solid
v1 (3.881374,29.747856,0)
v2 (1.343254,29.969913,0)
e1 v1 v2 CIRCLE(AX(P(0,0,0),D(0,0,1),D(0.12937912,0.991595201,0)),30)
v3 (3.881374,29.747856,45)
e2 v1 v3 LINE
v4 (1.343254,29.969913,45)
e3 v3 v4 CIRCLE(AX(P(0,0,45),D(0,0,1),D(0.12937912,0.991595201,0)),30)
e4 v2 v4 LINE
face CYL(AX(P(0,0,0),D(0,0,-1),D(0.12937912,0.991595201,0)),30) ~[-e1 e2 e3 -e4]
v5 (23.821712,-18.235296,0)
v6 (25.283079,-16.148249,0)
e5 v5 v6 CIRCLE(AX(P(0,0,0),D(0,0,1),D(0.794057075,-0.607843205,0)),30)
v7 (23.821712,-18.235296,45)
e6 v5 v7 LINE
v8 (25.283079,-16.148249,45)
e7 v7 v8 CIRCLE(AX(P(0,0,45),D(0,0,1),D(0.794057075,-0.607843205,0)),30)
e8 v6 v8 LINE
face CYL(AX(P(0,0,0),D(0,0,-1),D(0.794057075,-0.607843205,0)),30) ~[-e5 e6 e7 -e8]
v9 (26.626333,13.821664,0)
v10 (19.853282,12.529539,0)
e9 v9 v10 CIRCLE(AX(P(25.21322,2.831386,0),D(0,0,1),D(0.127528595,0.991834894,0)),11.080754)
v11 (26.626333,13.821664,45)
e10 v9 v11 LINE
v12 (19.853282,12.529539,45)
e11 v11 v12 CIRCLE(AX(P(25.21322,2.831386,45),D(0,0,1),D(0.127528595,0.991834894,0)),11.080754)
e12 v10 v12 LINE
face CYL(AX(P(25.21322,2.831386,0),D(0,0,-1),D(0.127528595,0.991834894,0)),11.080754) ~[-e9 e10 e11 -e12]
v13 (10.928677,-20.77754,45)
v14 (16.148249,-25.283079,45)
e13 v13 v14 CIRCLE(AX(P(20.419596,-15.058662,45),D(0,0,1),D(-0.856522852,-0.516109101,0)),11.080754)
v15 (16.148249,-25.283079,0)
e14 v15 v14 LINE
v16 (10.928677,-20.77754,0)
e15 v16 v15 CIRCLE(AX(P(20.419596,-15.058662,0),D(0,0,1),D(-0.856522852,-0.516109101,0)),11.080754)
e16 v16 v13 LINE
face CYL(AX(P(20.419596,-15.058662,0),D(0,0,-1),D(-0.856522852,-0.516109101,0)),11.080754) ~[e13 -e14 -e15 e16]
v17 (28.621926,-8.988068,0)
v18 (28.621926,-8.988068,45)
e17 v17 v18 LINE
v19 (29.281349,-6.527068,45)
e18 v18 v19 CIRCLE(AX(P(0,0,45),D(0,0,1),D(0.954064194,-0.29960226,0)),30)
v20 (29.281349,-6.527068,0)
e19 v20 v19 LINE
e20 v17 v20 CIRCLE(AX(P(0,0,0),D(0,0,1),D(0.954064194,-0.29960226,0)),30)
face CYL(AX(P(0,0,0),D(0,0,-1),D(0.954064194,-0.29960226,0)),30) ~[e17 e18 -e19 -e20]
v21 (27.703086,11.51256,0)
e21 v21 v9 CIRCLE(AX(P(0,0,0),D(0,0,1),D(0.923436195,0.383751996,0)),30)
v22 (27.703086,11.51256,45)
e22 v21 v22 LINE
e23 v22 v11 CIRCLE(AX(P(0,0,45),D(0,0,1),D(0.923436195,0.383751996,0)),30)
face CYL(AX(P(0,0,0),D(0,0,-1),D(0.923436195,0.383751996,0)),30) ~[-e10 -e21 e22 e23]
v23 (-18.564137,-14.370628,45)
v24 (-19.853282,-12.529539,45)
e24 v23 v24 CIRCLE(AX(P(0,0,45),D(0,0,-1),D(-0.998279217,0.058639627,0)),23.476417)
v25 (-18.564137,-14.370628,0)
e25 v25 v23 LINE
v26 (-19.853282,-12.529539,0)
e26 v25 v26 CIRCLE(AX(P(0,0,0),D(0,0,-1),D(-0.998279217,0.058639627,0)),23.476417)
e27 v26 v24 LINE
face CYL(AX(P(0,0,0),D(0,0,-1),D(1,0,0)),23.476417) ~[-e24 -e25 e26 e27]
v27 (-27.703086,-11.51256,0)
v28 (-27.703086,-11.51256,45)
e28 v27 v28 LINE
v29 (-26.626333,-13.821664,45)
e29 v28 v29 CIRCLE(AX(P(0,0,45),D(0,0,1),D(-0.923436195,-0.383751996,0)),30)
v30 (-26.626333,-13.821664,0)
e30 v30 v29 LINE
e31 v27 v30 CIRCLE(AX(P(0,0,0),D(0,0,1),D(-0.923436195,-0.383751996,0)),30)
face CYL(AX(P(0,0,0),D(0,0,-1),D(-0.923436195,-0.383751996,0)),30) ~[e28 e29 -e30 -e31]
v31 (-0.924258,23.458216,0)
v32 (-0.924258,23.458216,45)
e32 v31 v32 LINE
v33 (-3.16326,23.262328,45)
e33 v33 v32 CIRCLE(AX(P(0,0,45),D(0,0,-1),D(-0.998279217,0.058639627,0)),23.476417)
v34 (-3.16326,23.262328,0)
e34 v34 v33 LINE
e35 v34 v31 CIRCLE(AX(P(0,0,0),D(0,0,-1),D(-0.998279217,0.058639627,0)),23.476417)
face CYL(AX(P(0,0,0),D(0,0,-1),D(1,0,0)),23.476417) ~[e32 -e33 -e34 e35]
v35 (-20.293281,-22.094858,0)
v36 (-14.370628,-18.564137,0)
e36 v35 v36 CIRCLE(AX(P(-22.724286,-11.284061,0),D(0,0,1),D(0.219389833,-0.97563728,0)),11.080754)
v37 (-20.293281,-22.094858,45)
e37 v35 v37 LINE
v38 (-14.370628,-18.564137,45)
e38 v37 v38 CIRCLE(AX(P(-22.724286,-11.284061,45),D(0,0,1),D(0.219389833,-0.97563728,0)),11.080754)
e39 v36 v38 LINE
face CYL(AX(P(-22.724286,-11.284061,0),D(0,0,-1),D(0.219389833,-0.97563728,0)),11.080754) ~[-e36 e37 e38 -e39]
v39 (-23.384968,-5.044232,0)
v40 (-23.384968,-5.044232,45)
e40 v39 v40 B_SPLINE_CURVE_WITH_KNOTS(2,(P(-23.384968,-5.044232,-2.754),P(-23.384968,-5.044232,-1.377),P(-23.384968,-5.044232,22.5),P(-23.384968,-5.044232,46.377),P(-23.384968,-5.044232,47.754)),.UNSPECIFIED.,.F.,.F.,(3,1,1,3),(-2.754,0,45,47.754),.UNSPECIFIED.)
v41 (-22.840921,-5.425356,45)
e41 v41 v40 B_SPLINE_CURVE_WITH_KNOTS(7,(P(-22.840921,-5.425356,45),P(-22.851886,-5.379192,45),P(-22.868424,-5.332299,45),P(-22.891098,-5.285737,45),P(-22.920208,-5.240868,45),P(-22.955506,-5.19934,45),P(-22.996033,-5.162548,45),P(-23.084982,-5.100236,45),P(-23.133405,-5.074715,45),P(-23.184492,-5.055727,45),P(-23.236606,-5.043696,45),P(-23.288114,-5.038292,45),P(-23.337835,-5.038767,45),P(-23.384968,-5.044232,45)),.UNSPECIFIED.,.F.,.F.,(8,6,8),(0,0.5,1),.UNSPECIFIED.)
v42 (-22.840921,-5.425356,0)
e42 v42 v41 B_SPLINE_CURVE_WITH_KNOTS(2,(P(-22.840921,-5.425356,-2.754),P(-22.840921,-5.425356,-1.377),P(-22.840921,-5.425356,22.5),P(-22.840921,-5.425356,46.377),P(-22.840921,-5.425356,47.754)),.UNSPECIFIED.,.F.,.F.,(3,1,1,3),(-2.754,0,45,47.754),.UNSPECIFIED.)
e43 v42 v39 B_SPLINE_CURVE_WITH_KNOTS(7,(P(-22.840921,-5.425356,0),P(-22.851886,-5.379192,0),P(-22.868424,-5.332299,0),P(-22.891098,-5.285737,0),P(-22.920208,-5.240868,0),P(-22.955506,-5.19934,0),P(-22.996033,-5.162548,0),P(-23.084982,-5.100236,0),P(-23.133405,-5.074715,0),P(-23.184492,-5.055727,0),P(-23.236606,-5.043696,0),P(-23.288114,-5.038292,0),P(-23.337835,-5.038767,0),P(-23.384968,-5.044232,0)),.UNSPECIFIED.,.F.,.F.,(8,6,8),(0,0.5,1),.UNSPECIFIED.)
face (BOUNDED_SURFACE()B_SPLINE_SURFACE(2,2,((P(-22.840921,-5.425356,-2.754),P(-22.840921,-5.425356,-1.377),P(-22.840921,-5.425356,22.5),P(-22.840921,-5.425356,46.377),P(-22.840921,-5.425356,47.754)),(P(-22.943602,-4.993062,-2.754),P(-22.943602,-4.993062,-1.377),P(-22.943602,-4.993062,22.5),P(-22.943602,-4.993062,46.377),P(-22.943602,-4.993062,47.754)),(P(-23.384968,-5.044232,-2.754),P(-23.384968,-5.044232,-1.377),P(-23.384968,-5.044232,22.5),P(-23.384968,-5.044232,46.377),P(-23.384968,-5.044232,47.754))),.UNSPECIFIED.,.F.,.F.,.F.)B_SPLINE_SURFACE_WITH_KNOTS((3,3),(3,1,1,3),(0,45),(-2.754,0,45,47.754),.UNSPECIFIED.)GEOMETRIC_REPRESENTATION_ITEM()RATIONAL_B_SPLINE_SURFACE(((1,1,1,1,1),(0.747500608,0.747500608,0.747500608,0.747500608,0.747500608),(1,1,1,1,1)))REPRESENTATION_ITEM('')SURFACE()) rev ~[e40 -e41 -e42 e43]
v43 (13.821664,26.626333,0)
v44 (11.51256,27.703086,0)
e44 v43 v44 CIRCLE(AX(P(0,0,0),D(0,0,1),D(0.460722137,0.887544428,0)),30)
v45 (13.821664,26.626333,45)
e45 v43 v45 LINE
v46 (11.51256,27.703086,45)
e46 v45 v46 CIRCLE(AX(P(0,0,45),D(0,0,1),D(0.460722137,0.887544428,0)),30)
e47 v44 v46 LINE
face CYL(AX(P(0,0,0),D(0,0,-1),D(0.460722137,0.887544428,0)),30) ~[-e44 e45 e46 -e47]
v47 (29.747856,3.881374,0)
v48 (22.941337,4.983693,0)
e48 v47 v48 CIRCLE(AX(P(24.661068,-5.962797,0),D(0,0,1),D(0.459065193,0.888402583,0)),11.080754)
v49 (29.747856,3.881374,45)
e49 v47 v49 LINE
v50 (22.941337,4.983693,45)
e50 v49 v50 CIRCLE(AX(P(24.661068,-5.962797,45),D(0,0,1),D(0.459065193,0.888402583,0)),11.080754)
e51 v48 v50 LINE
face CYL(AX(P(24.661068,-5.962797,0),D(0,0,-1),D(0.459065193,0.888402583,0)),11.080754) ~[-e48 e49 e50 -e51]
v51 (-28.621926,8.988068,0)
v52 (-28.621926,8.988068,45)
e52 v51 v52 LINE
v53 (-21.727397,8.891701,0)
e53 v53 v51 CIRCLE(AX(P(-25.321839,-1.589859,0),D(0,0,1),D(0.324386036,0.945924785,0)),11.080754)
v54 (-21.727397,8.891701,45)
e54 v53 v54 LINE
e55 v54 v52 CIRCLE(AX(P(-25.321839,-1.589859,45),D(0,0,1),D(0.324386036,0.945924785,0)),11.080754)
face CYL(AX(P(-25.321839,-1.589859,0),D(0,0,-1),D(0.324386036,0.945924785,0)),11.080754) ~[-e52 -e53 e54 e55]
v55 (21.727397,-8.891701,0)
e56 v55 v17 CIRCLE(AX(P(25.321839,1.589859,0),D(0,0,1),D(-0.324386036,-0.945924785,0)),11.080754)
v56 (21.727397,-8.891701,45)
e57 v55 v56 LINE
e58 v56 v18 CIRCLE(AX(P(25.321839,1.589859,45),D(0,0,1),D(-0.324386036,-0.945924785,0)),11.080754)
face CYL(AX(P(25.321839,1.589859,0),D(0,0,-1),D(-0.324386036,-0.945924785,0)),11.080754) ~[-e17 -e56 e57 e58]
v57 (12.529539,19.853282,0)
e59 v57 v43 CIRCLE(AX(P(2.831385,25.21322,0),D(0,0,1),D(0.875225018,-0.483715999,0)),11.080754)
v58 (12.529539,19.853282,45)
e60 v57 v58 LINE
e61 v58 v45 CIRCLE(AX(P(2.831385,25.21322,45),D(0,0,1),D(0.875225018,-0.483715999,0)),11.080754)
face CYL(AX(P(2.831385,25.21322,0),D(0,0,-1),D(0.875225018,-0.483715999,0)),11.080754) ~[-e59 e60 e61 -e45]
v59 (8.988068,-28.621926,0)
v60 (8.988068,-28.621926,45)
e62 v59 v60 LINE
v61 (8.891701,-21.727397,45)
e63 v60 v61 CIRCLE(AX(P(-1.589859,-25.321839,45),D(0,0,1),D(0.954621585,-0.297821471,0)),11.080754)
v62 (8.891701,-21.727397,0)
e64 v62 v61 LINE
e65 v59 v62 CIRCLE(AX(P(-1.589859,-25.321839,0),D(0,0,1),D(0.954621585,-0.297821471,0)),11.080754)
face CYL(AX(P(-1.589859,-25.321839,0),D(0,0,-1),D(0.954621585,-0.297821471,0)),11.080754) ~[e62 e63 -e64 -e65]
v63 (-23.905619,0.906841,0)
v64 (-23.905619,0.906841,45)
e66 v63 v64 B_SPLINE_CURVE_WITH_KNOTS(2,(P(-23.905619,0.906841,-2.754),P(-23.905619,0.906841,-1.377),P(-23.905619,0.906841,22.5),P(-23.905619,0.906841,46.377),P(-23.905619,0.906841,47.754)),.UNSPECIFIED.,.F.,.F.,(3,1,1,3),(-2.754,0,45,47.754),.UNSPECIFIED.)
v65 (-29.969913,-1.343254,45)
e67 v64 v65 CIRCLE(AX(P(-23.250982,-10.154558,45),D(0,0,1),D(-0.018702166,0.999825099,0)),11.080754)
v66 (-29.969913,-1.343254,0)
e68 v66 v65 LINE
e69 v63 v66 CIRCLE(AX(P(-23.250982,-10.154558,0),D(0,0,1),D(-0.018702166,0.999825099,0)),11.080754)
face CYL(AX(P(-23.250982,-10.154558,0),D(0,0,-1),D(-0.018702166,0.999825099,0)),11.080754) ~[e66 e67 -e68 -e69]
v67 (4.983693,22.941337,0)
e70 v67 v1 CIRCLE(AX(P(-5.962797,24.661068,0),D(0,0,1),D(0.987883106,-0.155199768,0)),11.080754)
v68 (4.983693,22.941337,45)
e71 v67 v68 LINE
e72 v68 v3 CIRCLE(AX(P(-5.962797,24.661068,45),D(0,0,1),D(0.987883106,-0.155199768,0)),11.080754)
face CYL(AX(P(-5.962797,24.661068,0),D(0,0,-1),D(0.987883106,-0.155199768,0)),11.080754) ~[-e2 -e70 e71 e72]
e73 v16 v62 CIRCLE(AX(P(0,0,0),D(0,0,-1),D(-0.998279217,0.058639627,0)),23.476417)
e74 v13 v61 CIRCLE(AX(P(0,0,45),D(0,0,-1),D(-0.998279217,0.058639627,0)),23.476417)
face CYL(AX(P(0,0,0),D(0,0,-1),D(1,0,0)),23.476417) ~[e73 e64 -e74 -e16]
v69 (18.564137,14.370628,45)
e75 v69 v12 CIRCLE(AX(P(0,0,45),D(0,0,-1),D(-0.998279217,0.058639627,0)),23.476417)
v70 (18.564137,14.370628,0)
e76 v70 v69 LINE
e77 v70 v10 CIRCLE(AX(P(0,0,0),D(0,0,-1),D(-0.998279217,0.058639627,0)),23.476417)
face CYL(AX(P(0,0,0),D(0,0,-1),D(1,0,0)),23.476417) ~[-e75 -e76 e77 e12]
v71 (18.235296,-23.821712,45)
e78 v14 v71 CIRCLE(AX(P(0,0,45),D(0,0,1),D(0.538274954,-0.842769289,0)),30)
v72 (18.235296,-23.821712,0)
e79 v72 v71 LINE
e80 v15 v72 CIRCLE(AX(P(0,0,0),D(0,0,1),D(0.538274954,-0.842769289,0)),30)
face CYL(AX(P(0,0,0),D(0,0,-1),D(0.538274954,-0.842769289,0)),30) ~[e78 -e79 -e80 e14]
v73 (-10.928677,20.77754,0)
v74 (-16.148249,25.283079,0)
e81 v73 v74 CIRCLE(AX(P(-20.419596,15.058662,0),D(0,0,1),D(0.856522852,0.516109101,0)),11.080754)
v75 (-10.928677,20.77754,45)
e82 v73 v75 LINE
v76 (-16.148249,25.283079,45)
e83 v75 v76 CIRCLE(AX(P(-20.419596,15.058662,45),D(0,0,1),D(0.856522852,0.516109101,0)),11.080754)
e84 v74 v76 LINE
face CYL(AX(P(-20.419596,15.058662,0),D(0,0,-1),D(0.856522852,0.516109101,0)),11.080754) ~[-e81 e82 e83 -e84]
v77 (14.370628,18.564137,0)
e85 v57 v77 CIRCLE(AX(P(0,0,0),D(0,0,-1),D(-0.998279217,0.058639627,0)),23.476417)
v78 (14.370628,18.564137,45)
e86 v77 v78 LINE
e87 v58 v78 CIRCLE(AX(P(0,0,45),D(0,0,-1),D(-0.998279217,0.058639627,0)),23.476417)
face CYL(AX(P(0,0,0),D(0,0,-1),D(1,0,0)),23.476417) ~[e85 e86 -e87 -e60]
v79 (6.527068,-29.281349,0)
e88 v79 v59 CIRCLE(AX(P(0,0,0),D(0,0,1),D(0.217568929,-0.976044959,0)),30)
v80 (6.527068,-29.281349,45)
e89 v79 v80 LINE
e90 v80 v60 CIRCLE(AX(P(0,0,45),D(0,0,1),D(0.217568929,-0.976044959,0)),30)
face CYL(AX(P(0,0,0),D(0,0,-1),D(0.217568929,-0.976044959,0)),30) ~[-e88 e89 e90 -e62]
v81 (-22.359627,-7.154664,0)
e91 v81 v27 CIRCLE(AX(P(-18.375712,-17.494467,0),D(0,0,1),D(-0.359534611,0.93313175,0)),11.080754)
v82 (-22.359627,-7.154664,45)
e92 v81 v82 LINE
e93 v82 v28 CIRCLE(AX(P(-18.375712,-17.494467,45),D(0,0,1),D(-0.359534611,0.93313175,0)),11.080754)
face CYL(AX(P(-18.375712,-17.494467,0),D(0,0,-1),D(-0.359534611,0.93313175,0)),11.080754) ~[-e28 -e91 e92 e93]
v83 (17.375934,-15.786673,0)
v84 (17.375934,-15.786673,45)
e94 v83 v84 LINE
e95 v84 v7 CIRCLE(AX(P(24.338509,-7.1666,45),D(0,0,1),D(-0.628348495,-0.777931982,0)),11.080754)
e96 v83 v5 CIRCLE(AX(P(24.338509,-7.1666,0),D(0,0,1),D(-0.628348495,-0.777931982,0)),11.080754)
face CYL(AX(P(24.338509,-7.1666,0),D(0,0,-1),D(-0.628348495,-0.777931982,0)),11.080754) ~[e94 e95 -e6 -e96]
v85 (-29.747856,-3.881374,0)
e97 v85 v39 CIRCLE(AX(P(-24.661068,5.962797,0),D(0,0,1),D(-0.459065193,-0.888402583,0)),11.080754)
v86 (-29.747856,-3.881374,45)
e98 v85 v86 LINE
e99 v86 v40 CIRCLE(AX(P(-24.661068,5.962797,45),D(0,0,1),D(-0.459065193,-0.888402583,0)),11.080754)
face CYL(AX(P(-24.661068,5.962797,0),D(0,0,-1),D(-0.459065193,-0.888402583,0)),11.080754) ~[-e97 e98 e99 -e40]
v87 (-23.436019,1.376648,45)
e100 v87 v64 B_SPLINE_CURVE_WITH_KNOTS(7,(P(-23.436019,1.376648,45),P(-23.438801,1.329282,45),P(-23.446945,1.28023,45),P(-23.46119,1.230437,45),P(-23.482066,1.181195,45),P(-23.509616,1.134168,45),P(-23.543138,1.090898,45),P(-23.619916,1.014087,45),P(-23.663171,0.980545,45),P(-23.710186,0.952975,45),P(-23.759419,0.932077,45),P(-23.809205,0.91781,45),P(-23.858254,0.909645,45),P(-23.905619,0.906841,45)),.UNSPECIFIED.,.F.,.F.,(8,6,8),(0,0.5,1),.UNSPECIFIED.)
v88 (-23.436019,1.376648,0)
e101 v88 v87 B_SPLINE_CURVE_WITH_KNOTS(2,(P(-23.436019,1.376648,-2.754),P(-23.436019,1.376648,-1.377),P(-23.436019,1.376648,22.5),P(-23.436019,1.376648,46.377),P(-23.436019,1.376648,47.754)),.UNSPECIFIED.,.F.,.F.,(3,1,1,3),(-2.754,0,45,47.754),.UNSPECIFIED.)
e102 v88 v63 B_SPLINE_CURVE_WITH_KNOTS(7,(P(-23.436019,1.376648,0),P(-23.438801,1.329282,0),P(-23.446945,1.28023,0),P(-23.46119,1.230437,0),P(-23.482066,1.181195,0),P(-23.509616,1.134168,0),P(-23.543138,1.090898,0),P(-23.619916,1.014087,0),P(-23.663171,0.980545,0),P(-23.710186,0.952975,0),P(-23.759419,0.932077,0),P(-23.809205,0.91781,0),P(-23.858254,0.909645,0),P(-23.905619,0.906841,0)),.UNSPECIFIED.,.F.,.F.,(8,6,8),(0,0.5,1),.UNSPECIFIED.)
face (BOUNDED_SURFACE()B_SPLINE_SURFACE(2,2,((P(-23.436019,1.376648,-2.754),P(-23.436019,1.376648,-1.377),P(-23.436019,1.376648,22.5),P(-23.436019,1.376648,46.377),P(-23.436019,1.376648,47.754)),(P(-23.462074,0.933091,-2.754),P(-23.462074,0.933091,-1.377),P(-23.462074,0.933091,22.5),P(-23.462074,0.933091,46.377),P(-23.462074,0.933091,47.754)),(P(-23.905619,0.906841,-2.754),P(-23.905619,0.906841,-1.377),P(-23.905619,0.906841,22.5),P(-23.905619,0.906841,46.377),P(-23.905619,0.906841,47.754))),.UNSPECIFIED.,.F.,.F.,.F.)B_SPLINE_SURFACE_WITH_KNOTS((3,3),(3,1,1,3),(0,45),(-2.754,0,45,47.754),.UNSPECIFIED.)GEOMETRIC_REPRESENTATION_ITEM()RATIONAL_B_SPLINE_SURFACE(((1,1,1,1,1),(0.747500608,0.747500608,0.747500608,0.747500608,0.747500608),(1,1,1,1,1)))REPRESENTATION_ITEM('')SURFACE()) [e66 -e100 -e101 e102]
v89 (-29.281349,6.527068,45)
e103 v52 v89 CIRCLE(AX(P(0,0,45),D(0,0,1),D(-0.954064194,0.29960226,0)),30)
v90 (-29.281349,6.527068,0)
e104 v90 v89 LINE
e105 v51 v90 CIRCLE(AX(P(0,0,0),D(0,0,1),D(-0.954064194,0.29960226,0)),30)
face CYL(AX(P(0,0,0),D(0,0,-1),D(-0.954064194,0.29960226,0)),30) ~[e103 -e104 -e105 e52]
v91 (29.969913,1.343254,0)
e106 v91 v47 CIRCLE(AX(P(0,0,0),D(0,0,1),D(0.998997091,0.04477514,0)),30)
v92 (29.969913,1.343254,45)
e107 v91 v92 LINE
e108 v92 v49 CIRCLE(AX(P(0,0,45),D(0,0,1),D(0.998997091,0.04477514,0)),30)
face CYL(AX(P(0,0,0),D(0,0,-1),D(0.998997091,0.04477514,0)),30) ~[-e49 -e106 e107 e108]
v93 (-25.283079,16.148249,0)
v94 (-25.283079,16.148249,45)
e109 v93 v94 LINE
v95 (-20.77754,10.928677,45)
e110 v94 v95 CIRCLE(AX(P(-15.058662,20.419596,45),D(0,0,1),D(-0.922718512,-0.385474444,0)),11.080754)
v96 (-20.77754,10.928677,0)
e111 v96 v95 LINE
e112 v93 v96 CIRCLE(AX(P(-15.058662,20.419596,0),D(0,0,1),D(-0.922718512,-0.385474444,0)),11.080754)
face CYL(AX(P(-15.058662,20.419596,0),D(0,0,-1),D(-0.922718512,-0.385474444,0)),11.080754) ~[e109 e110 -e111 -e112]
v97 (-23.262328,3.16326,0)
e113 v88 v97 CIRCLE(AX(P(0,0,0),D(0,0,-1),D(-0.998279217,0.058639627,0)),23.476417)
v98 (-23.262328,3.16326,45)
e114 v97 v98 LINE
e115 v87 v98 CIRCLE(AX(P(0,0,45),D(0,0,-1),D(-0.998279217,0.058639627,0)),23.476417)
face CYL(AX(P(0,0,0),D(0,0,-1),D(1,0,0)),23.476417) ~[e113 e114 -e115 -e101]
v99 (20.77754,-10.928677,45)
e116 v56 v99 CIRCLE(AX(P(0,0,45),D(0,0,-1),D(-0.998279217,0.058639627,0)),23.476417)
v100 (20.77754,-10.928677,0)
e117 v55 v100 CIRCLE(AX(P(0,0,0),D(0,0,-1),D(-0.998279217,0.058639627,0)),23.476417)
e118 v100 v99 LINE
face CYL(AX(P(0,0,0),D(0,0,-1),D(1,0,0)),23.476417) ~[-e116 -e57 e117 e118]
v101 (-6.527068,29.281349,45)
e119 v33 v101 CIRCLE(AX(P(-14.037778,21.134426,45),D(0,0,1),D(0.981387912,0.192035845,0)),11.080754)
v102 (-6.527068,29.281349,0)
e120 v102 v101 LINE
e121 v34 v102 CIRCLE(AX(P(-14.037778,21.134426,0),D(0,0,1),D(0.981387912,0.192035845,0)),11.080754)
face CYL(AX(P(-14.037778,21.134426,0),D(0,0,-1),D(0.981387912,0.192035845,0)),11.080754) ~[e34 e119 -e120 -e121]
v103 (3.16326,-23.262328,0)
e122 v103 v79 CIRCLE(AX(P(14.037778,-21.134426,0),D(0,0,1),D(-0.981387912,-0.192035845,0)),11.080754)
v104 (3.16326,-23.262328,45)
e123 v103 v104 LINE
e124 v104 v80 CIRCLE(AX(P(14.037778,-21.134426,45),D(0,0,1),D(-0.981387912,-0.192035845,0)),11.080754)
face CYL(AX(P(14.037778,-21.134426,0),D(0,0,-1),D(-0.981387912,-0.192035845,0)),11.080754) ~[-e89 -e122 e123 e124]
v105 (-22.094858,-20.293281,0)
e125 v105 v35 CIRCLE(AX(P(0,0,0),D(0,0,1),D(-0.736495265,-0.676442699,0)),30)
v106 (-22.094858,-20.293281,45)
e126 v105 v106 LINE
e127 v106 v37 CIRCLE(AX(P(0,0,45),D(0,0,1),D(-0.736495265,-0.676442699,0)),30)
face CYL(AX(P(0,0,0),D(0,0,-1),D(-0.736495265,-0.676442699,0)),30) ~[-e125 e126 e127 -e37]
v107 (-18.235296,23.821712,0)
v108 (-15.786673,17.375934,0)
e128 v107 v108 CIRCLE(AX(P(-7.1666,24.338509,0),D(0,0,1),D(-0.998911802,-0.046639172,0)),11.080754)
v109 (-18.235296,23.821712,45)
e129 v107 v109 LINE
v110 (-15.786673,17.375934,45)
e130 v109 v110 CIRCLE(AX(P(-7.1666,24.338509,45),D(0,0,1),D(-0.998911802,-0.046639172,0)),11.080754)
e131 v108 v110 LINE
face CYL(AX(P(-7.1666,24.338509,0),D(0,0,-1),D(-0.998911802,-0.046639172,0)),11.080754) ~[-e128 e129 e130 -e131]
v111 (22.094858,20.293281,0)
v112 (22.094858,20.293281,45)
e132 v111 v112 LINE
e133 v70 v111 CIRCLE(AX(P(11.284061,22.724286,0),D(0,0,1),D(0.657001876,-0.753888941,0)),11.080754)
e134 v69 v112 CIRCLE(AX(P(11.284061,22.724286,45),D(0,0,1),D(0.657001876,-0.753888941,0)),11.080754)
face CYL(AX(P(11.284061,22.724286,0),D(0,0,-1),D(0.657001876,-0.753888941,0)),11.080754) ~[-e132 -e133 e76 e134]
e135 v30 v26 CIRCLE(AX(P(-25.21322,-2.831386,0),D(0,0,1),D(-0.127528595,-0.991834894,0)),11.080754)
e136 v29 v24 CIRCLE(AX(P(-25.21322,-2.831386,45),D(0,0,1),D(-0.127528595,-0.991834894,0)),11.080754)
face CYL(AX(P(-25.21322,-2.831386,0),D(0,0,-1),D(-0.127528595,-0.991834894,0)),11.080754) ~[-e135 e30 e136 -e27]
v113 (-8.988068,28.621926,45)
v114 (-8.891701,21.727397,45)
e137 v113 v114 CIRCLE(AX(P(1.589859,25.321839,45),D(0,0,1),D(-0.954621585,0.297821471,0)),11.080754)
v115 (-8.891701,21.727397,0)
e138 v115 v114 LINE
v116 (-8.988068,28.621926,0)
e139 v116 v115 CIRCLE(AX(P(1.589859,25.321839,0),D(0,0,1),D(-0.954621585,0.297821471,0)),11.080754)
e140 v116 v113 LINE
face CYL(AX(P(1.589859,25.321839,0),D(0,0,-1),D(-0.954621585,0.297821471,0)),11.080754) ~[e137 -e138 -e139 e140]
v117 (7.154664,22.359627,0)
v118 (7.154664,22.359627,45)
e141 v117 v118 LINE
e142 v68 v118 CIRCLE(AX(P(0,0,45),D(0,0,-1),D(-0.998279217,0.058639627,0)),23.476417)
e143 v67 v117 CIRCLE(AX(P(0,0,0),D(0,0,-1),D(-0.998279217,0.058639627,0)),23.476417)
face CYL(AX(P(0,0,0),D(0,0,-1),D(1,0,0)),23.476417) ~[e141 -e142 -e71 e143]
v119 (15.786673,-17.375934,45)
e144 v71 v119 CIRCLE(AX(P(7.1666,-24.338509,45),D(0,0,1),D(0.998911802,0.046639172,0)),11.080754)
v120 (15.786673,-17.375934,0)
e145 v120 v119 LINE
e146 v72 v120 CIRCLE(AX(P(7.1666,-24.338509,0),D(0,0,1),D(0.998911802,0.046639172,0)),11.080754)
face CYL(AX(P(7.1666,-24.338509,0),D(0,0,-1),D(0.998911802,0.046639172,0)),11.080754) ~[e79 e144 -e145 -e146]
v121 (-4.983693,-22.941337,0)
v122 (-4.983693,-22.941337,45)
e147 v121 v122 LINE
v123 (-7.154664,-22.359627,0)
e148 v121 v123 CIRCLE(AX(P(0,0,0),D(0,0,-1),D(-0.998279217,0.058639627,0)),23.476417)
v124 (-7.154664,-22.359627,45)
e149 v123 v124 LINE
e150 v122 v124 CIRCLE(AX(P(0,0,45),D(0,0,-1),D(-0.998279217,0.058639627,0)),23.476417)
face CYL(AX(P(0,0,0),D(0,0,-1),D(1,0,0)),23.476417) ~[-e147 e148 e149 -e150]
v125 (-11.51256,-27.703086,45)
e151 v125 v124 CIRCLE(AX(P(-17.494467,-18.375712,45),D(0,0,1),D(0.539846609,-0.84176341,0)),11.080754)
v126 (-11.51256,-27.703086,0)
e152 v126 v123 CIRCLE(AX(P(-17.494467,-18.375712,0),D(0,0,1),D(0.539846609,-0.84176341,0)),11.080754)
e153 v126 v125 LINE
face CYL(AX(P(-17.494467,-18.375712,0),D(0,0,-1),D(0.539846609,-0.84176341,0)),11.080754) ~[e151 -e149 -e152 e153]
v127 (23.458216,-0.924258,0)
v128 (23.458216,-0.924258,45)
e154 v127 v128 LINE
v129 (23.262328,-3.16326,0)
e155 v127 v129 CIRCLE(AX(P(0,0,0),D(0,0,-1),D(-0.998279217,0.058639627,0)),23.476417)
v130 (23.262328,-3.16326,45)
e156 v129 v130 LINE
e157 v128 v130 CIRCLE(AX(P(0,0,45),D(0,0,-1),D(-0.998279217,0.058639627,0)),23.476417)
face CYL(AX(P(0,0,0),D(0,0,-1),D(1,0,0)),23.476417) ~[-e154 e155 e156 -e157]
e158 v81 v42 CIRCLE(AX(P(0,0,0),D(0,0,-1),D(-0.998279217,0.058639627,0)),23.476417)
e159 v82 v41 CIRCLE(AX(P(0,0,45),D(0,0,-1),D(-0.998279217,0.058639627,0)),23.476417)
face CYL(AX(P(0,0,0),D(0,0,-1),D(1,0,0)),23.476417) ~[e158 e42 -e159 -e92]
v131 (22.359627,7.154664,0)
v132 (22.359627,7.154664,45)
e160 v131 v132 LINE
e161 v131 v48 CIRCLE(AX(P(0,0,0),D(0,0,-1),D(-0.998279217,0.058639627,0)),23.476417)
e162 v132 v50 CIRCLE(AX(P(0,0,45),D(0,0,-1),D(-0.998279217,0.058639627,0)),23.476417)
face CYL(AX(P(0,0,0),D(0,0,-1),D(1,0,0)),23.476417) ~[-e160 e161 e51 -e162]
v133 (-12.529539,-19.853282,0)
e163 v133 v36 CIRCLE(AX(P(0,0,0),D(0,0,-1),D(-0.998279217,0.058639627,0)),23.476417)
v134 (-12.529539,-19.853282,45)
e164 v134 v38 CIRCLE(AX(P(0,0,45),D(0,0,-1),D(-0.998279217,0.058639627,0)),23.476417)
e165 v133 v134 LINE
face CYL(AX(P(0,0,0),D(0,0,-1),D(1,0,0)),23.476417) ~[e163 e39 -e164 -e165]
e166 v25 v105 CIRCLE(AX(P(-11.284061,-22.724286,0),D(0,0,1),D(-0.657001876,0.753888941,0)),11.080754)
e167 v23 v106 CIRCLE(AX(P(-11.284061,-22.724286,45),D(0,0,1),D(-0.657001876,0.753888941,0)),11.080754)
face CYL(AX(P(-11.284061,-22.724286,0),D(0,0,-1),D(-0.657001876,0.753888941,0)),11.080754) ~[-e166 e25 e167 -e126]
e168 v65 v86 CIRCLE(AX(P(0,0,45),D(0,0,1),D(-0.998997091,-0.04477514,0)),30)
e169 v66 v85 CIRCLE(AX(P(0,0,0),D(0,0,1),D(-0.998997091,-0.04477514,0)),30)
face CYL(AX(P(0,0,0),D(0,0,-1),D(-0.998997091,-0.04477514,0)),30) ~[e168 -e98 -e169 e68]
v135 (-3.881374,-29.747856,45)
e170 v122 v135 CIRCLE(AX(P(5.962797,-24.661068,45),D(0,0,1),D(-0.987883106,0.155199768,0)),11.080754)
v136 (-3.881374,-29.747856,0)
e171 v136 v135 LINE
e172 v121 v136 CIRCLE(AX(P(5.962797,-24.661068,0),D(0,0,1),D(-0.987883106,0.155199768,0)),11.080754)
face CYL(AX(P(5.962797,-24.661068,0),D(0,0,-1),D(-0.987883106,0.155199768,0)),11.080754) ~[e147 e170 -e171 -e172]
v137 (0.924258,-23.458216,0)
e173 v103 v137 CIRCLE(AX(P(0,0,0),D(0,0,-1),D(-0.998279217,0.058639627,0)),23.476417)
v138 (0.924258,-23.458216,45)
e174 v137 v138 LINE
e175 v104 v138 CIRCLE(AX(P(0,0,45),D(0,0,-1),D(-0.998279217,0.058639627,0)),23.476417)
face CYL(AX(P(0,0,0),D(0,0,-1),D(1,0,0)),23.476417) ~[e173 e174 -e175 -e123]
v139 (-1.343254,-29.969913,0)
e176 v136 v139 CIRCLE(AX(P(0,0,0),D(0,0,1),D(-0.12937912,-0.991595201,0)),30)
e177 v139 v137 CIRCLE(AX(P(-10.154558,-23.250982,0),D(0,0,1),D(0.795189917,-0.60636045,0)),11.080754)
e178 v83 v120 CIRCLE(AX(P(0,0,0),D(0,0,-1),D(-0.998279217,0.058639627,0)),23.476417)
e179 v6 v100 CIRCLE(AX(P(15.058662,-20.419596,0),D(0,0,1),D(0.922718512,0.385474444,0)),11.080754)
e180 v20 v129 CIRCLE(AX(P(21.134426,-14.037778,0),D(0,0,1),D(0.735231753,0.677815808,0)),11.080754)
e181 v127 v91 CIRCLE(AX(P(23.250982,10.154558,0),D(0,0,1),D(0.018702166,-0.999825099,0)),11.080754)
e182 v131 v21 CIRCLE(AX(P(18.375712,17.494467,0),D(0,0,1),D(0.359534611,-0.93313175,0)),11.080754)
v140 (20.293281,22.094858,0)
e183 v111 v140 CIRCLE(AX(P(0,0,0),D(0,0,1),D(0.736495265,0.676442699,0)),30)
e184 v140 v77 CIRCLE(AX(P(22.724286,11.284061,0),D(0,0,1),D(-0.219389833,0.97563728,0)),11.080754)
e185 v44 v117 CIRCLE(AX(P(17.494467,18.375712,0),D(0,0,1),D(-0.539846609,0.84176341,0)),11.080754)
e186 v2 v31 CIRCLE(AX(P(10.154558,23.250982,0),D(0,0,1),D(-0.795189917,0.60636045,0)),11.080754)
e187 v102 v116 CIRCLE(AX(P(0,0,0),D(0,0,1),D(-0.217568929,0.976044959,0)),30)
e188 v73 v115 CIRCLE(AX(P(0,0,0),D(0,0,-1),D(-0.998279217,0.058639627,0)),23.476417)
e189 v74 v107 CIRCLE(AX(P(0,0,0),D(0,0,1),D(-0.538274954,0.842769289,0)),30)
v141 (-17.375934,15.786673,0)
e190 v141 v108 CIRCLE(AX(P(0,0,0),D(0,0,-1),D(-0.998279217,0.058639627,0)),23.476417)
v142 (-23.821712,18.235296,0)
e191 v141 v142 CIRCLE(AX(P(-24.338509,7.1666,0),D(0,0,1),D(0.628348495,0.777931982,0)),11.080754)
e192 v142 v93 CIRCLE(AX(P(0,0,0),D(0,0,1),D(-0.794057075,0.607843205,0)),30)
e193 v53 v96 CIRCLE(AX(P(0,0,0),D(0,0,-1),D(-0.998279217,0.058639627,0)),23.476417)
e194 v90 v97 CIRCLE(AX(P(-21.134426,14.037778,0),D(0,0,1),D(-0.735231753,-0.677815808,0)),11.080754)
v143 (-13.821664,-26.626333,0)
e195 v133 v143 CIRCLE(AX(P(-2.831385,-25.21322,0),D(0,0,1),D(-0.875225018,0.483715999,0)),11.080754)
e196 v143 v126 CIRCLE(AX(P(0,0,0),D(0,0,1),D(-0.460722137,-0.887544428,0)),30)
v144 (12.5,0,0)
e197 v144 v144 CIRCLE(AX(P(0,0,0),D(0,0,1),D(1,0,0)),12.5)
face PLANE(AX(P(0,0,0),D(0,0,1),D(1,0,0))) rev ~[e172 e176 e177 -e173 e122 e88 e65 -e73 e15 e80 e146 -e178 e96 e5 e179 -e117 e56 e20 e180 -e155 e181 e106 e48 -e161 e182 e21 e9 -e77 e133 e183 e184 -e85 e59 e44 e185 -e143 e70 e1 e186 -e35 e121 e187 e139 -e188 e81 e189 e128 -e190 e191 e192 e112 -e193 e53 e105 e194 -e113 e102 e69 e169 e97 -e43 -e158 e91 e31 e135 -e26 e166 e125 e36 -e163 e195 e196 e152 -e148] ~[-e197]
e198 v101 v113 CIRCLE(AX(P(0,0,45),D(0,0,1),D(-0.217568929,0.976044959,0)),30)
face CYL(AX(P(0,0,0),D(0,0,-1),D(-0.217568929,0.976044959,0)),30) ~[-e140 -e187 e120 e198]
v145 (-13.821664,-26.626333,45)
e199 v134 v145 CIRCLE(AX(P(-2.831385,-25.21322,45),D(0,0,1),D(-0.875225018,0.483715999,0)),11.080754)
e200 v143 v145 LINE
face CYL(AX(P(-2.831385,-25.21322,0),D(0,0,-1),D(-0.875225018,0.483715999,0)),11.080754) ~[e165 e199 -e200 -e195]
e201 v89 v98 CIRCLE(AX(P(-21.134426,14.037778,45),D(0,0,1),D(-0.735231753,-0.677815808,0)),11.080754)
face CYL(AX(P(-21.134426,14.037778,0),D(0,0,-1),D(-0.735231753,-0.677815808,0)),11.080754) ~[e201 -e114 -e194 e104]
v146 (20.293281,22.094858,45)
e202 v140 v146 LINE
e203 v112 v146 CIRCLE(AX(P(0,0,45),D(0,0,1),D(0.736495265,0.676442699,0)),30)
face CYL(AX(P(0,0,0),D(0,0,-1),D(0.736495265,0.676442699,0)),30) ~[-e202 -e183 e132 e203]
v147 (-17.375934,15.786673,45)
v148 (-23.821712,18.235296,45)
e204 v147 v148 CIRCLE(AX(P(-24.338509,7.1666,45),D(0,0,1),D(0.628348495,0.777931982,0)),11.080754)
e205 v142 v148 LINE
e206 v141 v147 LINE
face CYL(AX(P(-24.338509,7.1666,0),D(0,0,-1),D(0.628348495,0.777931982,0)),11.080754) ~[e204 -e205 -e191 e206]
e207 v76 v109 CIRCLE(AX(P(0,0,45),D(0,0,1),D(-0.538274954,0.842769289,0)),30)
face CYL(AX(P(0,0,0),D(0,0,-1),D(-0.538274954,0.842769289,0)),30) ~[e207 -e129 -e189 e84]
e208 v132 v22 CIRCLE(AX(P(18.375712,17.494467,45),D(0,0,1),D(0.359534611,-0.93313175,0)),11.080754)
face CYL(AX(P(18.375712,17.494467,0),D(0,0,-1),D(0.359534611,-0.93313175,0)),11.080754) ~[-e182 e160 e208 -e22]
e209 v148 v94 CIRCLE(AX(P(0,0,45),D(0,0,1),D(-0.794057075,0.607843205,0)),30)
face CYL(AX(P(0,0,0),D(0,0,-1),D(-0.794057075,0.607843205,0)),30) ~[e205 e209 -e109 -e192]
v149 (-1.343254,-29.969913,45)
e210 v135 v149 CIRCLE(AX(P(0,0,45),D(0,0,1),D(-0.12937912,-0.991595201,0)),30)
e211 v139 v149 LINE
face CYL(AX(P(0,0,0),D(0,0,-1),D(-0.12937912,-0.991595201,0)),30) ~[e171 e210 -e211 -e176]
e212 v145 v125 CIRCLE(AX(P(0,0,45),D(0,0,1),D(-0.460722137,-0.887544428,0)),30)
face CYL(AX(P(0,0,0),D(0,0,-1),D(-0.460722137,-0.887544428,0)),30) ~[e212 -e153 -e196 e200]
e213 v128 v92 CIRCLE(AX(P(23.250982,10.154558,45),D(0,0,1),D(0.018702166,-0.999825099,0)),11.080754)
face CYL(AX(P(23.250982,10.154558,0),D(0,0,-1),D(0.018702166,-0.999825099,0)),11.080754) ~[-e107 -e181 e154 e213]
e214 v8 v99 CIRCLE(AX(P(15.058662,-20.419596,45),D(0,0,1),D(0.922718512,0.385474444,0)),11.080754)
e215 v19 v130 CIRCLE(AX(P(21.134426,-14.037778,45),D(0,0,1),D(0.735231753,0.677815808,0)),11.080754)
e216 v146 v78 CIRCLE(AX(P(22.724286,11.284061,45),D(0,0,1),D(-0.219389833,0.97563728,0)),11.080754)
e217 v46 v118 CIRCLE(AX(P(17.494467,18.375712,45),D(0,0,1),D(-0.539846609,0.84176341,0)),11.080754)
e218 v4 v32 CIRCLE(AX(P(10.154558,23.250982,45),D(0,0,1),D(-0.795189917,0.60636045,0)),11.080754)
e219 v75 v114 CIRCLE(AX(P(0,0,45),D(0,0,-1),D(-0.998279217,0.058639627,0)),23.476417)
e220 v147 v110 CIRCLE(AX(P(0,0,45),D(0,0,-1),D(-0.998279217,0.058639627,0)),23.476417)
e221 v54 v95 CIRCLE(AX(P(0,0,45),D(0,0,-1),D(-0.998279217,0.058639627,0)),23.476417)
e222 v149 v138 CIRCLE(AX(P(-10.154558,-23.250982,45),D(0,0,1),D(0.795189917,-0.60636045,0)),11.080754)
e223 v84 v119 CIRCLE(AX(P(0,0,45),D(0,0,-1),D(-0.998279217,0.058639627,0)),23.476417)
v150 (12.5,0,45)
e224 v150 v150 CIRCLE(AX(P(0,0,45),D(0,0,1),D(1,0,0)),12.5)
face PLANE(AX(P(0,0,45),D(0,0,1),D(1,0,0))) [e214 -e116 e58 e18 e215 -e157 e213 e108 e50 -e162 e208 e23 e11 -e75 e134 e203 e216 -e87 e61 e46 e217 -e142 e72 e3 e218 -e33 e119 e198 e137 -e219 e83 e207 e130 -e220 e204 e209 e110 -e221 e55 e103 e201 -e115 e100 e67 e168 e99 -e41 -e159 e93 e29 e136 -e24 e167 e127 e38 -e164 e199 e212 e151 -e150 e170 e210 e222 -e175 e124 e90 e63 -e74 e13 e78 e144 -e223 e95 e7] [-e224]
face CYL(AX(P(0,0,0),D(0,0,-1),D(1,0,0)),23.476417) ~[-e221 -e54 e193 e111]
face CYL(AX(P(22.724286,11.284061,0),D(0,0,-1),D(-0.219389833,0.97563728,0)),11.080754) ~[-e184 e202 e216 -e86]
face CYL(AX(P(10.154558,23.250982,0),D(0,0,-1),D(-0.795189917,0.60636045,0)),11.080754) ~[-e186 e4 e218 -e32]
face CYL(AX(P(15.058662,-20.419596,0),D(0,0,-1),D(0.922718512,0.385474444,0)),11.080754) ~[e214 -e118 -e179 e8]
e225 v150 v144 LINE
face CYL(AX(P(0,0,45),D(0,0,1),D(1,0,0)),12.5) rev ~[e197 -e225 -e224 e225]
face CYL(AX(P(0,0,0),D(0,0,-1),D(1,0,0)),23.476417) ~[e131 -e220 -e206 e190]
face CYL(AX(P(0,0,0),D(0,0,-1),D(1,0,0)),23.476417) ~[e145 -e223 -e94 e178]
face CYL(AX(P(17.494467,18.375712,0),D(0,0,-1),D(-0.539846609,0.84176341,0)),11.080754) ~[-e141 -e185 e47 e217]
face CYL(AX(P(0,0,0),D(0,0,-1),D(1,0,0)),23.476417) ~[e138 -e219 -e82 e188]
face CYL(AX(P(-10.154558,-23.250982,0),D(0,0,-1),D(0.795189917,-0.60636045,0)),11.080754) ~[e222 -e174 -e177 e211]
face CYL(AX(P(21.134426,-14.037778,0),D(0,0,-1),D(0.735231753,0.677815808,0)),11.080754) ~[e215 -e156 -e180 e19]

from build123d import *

# Parameters (mm, degrees)
BOSS_EXTRUDE3_DEPTH = 45
SKETCH2_R           = 23.476416667
BOSS_EXTRUDE4_DEPTH = 45
FILLET1_R           = 0.5
FILLET3_R           = 0.5
CIRPATTERN1_COUNT   = 18
SKETCH6_R           = 12.5
CUT_EXTRUDE1_DEPTH  = 45


with BuildPart() as part:
    # Sketch5 → Boss-Extrude3 (new body)
    with BuildSketch(Plane.XY):
        with BuildLine():
            ThreePointArc((-23.458215763, 0.924257933), (-26.894927841, 0.30989444), (-29.969912715, -1.343254201))
            ThreePointArc((-29.969912715, -1.343254201), (-29.885840943, -2.614672282), (-29.747856043, -3.881373576))
            ThreePointArc((-29.747856043, -3.881373576), (-26.43252085, -4.975441656), (-22.941337049, -4.983692796))
            ThreePointArc((-22.941337049, -4.983692796), (-23.387081814, -2.046104532), (-23.458215763, 0.924257933))
        make_face()
    boss_extrude3 = extrude(amount=BOSS_EXTRUDE3_DEPTH)

    # Sketch2 → Boss-Extrude4 (add)
    with BuildSketch(Plane.XY):
        Circle(SKETCH2_R)
    extrude(amount=BOSS_EXTRUDE4_DEPTH)

    # Fillet1
    fillet1_edges = [part.edges().sort_by_distance(p)[0] for p in [
        (-23.458215763, 0.924257933, 22.5),
    ]]
    fillet(fillet1_edges, radius=FILLET1_R)

    # Fillet3
    fillet3_edges = [part.edges().sort_by_distance(p)[0] for p in [
        (-22.941337049, -4.983692796, 22.5),
    ]]
    fillet(fillet3_edges, radius=FILLET3_R)

    # CirPattern1: Boss-Extrude3 ×18 about axis
    cirpattern1_axis = Axis((0, 0, 0), (0, 0, 1))
    for i in range(1, CIRPATTERN1_COUNT):
        add(boss_extrude3.rotate(cirpattern1_axis, i * 360 / CIRPATTERN1_COUNT))

    # Sketch6 → Cut-Extrude1 (cut)
    with BuildSketch(Plane.XY.offset(45)):
        Circle(SKETCH6_R)
    extrude(amount=-CUT_EXTRUDE1_DEPTH, mode=Mode.SUBTRACT)


solid = part.part
